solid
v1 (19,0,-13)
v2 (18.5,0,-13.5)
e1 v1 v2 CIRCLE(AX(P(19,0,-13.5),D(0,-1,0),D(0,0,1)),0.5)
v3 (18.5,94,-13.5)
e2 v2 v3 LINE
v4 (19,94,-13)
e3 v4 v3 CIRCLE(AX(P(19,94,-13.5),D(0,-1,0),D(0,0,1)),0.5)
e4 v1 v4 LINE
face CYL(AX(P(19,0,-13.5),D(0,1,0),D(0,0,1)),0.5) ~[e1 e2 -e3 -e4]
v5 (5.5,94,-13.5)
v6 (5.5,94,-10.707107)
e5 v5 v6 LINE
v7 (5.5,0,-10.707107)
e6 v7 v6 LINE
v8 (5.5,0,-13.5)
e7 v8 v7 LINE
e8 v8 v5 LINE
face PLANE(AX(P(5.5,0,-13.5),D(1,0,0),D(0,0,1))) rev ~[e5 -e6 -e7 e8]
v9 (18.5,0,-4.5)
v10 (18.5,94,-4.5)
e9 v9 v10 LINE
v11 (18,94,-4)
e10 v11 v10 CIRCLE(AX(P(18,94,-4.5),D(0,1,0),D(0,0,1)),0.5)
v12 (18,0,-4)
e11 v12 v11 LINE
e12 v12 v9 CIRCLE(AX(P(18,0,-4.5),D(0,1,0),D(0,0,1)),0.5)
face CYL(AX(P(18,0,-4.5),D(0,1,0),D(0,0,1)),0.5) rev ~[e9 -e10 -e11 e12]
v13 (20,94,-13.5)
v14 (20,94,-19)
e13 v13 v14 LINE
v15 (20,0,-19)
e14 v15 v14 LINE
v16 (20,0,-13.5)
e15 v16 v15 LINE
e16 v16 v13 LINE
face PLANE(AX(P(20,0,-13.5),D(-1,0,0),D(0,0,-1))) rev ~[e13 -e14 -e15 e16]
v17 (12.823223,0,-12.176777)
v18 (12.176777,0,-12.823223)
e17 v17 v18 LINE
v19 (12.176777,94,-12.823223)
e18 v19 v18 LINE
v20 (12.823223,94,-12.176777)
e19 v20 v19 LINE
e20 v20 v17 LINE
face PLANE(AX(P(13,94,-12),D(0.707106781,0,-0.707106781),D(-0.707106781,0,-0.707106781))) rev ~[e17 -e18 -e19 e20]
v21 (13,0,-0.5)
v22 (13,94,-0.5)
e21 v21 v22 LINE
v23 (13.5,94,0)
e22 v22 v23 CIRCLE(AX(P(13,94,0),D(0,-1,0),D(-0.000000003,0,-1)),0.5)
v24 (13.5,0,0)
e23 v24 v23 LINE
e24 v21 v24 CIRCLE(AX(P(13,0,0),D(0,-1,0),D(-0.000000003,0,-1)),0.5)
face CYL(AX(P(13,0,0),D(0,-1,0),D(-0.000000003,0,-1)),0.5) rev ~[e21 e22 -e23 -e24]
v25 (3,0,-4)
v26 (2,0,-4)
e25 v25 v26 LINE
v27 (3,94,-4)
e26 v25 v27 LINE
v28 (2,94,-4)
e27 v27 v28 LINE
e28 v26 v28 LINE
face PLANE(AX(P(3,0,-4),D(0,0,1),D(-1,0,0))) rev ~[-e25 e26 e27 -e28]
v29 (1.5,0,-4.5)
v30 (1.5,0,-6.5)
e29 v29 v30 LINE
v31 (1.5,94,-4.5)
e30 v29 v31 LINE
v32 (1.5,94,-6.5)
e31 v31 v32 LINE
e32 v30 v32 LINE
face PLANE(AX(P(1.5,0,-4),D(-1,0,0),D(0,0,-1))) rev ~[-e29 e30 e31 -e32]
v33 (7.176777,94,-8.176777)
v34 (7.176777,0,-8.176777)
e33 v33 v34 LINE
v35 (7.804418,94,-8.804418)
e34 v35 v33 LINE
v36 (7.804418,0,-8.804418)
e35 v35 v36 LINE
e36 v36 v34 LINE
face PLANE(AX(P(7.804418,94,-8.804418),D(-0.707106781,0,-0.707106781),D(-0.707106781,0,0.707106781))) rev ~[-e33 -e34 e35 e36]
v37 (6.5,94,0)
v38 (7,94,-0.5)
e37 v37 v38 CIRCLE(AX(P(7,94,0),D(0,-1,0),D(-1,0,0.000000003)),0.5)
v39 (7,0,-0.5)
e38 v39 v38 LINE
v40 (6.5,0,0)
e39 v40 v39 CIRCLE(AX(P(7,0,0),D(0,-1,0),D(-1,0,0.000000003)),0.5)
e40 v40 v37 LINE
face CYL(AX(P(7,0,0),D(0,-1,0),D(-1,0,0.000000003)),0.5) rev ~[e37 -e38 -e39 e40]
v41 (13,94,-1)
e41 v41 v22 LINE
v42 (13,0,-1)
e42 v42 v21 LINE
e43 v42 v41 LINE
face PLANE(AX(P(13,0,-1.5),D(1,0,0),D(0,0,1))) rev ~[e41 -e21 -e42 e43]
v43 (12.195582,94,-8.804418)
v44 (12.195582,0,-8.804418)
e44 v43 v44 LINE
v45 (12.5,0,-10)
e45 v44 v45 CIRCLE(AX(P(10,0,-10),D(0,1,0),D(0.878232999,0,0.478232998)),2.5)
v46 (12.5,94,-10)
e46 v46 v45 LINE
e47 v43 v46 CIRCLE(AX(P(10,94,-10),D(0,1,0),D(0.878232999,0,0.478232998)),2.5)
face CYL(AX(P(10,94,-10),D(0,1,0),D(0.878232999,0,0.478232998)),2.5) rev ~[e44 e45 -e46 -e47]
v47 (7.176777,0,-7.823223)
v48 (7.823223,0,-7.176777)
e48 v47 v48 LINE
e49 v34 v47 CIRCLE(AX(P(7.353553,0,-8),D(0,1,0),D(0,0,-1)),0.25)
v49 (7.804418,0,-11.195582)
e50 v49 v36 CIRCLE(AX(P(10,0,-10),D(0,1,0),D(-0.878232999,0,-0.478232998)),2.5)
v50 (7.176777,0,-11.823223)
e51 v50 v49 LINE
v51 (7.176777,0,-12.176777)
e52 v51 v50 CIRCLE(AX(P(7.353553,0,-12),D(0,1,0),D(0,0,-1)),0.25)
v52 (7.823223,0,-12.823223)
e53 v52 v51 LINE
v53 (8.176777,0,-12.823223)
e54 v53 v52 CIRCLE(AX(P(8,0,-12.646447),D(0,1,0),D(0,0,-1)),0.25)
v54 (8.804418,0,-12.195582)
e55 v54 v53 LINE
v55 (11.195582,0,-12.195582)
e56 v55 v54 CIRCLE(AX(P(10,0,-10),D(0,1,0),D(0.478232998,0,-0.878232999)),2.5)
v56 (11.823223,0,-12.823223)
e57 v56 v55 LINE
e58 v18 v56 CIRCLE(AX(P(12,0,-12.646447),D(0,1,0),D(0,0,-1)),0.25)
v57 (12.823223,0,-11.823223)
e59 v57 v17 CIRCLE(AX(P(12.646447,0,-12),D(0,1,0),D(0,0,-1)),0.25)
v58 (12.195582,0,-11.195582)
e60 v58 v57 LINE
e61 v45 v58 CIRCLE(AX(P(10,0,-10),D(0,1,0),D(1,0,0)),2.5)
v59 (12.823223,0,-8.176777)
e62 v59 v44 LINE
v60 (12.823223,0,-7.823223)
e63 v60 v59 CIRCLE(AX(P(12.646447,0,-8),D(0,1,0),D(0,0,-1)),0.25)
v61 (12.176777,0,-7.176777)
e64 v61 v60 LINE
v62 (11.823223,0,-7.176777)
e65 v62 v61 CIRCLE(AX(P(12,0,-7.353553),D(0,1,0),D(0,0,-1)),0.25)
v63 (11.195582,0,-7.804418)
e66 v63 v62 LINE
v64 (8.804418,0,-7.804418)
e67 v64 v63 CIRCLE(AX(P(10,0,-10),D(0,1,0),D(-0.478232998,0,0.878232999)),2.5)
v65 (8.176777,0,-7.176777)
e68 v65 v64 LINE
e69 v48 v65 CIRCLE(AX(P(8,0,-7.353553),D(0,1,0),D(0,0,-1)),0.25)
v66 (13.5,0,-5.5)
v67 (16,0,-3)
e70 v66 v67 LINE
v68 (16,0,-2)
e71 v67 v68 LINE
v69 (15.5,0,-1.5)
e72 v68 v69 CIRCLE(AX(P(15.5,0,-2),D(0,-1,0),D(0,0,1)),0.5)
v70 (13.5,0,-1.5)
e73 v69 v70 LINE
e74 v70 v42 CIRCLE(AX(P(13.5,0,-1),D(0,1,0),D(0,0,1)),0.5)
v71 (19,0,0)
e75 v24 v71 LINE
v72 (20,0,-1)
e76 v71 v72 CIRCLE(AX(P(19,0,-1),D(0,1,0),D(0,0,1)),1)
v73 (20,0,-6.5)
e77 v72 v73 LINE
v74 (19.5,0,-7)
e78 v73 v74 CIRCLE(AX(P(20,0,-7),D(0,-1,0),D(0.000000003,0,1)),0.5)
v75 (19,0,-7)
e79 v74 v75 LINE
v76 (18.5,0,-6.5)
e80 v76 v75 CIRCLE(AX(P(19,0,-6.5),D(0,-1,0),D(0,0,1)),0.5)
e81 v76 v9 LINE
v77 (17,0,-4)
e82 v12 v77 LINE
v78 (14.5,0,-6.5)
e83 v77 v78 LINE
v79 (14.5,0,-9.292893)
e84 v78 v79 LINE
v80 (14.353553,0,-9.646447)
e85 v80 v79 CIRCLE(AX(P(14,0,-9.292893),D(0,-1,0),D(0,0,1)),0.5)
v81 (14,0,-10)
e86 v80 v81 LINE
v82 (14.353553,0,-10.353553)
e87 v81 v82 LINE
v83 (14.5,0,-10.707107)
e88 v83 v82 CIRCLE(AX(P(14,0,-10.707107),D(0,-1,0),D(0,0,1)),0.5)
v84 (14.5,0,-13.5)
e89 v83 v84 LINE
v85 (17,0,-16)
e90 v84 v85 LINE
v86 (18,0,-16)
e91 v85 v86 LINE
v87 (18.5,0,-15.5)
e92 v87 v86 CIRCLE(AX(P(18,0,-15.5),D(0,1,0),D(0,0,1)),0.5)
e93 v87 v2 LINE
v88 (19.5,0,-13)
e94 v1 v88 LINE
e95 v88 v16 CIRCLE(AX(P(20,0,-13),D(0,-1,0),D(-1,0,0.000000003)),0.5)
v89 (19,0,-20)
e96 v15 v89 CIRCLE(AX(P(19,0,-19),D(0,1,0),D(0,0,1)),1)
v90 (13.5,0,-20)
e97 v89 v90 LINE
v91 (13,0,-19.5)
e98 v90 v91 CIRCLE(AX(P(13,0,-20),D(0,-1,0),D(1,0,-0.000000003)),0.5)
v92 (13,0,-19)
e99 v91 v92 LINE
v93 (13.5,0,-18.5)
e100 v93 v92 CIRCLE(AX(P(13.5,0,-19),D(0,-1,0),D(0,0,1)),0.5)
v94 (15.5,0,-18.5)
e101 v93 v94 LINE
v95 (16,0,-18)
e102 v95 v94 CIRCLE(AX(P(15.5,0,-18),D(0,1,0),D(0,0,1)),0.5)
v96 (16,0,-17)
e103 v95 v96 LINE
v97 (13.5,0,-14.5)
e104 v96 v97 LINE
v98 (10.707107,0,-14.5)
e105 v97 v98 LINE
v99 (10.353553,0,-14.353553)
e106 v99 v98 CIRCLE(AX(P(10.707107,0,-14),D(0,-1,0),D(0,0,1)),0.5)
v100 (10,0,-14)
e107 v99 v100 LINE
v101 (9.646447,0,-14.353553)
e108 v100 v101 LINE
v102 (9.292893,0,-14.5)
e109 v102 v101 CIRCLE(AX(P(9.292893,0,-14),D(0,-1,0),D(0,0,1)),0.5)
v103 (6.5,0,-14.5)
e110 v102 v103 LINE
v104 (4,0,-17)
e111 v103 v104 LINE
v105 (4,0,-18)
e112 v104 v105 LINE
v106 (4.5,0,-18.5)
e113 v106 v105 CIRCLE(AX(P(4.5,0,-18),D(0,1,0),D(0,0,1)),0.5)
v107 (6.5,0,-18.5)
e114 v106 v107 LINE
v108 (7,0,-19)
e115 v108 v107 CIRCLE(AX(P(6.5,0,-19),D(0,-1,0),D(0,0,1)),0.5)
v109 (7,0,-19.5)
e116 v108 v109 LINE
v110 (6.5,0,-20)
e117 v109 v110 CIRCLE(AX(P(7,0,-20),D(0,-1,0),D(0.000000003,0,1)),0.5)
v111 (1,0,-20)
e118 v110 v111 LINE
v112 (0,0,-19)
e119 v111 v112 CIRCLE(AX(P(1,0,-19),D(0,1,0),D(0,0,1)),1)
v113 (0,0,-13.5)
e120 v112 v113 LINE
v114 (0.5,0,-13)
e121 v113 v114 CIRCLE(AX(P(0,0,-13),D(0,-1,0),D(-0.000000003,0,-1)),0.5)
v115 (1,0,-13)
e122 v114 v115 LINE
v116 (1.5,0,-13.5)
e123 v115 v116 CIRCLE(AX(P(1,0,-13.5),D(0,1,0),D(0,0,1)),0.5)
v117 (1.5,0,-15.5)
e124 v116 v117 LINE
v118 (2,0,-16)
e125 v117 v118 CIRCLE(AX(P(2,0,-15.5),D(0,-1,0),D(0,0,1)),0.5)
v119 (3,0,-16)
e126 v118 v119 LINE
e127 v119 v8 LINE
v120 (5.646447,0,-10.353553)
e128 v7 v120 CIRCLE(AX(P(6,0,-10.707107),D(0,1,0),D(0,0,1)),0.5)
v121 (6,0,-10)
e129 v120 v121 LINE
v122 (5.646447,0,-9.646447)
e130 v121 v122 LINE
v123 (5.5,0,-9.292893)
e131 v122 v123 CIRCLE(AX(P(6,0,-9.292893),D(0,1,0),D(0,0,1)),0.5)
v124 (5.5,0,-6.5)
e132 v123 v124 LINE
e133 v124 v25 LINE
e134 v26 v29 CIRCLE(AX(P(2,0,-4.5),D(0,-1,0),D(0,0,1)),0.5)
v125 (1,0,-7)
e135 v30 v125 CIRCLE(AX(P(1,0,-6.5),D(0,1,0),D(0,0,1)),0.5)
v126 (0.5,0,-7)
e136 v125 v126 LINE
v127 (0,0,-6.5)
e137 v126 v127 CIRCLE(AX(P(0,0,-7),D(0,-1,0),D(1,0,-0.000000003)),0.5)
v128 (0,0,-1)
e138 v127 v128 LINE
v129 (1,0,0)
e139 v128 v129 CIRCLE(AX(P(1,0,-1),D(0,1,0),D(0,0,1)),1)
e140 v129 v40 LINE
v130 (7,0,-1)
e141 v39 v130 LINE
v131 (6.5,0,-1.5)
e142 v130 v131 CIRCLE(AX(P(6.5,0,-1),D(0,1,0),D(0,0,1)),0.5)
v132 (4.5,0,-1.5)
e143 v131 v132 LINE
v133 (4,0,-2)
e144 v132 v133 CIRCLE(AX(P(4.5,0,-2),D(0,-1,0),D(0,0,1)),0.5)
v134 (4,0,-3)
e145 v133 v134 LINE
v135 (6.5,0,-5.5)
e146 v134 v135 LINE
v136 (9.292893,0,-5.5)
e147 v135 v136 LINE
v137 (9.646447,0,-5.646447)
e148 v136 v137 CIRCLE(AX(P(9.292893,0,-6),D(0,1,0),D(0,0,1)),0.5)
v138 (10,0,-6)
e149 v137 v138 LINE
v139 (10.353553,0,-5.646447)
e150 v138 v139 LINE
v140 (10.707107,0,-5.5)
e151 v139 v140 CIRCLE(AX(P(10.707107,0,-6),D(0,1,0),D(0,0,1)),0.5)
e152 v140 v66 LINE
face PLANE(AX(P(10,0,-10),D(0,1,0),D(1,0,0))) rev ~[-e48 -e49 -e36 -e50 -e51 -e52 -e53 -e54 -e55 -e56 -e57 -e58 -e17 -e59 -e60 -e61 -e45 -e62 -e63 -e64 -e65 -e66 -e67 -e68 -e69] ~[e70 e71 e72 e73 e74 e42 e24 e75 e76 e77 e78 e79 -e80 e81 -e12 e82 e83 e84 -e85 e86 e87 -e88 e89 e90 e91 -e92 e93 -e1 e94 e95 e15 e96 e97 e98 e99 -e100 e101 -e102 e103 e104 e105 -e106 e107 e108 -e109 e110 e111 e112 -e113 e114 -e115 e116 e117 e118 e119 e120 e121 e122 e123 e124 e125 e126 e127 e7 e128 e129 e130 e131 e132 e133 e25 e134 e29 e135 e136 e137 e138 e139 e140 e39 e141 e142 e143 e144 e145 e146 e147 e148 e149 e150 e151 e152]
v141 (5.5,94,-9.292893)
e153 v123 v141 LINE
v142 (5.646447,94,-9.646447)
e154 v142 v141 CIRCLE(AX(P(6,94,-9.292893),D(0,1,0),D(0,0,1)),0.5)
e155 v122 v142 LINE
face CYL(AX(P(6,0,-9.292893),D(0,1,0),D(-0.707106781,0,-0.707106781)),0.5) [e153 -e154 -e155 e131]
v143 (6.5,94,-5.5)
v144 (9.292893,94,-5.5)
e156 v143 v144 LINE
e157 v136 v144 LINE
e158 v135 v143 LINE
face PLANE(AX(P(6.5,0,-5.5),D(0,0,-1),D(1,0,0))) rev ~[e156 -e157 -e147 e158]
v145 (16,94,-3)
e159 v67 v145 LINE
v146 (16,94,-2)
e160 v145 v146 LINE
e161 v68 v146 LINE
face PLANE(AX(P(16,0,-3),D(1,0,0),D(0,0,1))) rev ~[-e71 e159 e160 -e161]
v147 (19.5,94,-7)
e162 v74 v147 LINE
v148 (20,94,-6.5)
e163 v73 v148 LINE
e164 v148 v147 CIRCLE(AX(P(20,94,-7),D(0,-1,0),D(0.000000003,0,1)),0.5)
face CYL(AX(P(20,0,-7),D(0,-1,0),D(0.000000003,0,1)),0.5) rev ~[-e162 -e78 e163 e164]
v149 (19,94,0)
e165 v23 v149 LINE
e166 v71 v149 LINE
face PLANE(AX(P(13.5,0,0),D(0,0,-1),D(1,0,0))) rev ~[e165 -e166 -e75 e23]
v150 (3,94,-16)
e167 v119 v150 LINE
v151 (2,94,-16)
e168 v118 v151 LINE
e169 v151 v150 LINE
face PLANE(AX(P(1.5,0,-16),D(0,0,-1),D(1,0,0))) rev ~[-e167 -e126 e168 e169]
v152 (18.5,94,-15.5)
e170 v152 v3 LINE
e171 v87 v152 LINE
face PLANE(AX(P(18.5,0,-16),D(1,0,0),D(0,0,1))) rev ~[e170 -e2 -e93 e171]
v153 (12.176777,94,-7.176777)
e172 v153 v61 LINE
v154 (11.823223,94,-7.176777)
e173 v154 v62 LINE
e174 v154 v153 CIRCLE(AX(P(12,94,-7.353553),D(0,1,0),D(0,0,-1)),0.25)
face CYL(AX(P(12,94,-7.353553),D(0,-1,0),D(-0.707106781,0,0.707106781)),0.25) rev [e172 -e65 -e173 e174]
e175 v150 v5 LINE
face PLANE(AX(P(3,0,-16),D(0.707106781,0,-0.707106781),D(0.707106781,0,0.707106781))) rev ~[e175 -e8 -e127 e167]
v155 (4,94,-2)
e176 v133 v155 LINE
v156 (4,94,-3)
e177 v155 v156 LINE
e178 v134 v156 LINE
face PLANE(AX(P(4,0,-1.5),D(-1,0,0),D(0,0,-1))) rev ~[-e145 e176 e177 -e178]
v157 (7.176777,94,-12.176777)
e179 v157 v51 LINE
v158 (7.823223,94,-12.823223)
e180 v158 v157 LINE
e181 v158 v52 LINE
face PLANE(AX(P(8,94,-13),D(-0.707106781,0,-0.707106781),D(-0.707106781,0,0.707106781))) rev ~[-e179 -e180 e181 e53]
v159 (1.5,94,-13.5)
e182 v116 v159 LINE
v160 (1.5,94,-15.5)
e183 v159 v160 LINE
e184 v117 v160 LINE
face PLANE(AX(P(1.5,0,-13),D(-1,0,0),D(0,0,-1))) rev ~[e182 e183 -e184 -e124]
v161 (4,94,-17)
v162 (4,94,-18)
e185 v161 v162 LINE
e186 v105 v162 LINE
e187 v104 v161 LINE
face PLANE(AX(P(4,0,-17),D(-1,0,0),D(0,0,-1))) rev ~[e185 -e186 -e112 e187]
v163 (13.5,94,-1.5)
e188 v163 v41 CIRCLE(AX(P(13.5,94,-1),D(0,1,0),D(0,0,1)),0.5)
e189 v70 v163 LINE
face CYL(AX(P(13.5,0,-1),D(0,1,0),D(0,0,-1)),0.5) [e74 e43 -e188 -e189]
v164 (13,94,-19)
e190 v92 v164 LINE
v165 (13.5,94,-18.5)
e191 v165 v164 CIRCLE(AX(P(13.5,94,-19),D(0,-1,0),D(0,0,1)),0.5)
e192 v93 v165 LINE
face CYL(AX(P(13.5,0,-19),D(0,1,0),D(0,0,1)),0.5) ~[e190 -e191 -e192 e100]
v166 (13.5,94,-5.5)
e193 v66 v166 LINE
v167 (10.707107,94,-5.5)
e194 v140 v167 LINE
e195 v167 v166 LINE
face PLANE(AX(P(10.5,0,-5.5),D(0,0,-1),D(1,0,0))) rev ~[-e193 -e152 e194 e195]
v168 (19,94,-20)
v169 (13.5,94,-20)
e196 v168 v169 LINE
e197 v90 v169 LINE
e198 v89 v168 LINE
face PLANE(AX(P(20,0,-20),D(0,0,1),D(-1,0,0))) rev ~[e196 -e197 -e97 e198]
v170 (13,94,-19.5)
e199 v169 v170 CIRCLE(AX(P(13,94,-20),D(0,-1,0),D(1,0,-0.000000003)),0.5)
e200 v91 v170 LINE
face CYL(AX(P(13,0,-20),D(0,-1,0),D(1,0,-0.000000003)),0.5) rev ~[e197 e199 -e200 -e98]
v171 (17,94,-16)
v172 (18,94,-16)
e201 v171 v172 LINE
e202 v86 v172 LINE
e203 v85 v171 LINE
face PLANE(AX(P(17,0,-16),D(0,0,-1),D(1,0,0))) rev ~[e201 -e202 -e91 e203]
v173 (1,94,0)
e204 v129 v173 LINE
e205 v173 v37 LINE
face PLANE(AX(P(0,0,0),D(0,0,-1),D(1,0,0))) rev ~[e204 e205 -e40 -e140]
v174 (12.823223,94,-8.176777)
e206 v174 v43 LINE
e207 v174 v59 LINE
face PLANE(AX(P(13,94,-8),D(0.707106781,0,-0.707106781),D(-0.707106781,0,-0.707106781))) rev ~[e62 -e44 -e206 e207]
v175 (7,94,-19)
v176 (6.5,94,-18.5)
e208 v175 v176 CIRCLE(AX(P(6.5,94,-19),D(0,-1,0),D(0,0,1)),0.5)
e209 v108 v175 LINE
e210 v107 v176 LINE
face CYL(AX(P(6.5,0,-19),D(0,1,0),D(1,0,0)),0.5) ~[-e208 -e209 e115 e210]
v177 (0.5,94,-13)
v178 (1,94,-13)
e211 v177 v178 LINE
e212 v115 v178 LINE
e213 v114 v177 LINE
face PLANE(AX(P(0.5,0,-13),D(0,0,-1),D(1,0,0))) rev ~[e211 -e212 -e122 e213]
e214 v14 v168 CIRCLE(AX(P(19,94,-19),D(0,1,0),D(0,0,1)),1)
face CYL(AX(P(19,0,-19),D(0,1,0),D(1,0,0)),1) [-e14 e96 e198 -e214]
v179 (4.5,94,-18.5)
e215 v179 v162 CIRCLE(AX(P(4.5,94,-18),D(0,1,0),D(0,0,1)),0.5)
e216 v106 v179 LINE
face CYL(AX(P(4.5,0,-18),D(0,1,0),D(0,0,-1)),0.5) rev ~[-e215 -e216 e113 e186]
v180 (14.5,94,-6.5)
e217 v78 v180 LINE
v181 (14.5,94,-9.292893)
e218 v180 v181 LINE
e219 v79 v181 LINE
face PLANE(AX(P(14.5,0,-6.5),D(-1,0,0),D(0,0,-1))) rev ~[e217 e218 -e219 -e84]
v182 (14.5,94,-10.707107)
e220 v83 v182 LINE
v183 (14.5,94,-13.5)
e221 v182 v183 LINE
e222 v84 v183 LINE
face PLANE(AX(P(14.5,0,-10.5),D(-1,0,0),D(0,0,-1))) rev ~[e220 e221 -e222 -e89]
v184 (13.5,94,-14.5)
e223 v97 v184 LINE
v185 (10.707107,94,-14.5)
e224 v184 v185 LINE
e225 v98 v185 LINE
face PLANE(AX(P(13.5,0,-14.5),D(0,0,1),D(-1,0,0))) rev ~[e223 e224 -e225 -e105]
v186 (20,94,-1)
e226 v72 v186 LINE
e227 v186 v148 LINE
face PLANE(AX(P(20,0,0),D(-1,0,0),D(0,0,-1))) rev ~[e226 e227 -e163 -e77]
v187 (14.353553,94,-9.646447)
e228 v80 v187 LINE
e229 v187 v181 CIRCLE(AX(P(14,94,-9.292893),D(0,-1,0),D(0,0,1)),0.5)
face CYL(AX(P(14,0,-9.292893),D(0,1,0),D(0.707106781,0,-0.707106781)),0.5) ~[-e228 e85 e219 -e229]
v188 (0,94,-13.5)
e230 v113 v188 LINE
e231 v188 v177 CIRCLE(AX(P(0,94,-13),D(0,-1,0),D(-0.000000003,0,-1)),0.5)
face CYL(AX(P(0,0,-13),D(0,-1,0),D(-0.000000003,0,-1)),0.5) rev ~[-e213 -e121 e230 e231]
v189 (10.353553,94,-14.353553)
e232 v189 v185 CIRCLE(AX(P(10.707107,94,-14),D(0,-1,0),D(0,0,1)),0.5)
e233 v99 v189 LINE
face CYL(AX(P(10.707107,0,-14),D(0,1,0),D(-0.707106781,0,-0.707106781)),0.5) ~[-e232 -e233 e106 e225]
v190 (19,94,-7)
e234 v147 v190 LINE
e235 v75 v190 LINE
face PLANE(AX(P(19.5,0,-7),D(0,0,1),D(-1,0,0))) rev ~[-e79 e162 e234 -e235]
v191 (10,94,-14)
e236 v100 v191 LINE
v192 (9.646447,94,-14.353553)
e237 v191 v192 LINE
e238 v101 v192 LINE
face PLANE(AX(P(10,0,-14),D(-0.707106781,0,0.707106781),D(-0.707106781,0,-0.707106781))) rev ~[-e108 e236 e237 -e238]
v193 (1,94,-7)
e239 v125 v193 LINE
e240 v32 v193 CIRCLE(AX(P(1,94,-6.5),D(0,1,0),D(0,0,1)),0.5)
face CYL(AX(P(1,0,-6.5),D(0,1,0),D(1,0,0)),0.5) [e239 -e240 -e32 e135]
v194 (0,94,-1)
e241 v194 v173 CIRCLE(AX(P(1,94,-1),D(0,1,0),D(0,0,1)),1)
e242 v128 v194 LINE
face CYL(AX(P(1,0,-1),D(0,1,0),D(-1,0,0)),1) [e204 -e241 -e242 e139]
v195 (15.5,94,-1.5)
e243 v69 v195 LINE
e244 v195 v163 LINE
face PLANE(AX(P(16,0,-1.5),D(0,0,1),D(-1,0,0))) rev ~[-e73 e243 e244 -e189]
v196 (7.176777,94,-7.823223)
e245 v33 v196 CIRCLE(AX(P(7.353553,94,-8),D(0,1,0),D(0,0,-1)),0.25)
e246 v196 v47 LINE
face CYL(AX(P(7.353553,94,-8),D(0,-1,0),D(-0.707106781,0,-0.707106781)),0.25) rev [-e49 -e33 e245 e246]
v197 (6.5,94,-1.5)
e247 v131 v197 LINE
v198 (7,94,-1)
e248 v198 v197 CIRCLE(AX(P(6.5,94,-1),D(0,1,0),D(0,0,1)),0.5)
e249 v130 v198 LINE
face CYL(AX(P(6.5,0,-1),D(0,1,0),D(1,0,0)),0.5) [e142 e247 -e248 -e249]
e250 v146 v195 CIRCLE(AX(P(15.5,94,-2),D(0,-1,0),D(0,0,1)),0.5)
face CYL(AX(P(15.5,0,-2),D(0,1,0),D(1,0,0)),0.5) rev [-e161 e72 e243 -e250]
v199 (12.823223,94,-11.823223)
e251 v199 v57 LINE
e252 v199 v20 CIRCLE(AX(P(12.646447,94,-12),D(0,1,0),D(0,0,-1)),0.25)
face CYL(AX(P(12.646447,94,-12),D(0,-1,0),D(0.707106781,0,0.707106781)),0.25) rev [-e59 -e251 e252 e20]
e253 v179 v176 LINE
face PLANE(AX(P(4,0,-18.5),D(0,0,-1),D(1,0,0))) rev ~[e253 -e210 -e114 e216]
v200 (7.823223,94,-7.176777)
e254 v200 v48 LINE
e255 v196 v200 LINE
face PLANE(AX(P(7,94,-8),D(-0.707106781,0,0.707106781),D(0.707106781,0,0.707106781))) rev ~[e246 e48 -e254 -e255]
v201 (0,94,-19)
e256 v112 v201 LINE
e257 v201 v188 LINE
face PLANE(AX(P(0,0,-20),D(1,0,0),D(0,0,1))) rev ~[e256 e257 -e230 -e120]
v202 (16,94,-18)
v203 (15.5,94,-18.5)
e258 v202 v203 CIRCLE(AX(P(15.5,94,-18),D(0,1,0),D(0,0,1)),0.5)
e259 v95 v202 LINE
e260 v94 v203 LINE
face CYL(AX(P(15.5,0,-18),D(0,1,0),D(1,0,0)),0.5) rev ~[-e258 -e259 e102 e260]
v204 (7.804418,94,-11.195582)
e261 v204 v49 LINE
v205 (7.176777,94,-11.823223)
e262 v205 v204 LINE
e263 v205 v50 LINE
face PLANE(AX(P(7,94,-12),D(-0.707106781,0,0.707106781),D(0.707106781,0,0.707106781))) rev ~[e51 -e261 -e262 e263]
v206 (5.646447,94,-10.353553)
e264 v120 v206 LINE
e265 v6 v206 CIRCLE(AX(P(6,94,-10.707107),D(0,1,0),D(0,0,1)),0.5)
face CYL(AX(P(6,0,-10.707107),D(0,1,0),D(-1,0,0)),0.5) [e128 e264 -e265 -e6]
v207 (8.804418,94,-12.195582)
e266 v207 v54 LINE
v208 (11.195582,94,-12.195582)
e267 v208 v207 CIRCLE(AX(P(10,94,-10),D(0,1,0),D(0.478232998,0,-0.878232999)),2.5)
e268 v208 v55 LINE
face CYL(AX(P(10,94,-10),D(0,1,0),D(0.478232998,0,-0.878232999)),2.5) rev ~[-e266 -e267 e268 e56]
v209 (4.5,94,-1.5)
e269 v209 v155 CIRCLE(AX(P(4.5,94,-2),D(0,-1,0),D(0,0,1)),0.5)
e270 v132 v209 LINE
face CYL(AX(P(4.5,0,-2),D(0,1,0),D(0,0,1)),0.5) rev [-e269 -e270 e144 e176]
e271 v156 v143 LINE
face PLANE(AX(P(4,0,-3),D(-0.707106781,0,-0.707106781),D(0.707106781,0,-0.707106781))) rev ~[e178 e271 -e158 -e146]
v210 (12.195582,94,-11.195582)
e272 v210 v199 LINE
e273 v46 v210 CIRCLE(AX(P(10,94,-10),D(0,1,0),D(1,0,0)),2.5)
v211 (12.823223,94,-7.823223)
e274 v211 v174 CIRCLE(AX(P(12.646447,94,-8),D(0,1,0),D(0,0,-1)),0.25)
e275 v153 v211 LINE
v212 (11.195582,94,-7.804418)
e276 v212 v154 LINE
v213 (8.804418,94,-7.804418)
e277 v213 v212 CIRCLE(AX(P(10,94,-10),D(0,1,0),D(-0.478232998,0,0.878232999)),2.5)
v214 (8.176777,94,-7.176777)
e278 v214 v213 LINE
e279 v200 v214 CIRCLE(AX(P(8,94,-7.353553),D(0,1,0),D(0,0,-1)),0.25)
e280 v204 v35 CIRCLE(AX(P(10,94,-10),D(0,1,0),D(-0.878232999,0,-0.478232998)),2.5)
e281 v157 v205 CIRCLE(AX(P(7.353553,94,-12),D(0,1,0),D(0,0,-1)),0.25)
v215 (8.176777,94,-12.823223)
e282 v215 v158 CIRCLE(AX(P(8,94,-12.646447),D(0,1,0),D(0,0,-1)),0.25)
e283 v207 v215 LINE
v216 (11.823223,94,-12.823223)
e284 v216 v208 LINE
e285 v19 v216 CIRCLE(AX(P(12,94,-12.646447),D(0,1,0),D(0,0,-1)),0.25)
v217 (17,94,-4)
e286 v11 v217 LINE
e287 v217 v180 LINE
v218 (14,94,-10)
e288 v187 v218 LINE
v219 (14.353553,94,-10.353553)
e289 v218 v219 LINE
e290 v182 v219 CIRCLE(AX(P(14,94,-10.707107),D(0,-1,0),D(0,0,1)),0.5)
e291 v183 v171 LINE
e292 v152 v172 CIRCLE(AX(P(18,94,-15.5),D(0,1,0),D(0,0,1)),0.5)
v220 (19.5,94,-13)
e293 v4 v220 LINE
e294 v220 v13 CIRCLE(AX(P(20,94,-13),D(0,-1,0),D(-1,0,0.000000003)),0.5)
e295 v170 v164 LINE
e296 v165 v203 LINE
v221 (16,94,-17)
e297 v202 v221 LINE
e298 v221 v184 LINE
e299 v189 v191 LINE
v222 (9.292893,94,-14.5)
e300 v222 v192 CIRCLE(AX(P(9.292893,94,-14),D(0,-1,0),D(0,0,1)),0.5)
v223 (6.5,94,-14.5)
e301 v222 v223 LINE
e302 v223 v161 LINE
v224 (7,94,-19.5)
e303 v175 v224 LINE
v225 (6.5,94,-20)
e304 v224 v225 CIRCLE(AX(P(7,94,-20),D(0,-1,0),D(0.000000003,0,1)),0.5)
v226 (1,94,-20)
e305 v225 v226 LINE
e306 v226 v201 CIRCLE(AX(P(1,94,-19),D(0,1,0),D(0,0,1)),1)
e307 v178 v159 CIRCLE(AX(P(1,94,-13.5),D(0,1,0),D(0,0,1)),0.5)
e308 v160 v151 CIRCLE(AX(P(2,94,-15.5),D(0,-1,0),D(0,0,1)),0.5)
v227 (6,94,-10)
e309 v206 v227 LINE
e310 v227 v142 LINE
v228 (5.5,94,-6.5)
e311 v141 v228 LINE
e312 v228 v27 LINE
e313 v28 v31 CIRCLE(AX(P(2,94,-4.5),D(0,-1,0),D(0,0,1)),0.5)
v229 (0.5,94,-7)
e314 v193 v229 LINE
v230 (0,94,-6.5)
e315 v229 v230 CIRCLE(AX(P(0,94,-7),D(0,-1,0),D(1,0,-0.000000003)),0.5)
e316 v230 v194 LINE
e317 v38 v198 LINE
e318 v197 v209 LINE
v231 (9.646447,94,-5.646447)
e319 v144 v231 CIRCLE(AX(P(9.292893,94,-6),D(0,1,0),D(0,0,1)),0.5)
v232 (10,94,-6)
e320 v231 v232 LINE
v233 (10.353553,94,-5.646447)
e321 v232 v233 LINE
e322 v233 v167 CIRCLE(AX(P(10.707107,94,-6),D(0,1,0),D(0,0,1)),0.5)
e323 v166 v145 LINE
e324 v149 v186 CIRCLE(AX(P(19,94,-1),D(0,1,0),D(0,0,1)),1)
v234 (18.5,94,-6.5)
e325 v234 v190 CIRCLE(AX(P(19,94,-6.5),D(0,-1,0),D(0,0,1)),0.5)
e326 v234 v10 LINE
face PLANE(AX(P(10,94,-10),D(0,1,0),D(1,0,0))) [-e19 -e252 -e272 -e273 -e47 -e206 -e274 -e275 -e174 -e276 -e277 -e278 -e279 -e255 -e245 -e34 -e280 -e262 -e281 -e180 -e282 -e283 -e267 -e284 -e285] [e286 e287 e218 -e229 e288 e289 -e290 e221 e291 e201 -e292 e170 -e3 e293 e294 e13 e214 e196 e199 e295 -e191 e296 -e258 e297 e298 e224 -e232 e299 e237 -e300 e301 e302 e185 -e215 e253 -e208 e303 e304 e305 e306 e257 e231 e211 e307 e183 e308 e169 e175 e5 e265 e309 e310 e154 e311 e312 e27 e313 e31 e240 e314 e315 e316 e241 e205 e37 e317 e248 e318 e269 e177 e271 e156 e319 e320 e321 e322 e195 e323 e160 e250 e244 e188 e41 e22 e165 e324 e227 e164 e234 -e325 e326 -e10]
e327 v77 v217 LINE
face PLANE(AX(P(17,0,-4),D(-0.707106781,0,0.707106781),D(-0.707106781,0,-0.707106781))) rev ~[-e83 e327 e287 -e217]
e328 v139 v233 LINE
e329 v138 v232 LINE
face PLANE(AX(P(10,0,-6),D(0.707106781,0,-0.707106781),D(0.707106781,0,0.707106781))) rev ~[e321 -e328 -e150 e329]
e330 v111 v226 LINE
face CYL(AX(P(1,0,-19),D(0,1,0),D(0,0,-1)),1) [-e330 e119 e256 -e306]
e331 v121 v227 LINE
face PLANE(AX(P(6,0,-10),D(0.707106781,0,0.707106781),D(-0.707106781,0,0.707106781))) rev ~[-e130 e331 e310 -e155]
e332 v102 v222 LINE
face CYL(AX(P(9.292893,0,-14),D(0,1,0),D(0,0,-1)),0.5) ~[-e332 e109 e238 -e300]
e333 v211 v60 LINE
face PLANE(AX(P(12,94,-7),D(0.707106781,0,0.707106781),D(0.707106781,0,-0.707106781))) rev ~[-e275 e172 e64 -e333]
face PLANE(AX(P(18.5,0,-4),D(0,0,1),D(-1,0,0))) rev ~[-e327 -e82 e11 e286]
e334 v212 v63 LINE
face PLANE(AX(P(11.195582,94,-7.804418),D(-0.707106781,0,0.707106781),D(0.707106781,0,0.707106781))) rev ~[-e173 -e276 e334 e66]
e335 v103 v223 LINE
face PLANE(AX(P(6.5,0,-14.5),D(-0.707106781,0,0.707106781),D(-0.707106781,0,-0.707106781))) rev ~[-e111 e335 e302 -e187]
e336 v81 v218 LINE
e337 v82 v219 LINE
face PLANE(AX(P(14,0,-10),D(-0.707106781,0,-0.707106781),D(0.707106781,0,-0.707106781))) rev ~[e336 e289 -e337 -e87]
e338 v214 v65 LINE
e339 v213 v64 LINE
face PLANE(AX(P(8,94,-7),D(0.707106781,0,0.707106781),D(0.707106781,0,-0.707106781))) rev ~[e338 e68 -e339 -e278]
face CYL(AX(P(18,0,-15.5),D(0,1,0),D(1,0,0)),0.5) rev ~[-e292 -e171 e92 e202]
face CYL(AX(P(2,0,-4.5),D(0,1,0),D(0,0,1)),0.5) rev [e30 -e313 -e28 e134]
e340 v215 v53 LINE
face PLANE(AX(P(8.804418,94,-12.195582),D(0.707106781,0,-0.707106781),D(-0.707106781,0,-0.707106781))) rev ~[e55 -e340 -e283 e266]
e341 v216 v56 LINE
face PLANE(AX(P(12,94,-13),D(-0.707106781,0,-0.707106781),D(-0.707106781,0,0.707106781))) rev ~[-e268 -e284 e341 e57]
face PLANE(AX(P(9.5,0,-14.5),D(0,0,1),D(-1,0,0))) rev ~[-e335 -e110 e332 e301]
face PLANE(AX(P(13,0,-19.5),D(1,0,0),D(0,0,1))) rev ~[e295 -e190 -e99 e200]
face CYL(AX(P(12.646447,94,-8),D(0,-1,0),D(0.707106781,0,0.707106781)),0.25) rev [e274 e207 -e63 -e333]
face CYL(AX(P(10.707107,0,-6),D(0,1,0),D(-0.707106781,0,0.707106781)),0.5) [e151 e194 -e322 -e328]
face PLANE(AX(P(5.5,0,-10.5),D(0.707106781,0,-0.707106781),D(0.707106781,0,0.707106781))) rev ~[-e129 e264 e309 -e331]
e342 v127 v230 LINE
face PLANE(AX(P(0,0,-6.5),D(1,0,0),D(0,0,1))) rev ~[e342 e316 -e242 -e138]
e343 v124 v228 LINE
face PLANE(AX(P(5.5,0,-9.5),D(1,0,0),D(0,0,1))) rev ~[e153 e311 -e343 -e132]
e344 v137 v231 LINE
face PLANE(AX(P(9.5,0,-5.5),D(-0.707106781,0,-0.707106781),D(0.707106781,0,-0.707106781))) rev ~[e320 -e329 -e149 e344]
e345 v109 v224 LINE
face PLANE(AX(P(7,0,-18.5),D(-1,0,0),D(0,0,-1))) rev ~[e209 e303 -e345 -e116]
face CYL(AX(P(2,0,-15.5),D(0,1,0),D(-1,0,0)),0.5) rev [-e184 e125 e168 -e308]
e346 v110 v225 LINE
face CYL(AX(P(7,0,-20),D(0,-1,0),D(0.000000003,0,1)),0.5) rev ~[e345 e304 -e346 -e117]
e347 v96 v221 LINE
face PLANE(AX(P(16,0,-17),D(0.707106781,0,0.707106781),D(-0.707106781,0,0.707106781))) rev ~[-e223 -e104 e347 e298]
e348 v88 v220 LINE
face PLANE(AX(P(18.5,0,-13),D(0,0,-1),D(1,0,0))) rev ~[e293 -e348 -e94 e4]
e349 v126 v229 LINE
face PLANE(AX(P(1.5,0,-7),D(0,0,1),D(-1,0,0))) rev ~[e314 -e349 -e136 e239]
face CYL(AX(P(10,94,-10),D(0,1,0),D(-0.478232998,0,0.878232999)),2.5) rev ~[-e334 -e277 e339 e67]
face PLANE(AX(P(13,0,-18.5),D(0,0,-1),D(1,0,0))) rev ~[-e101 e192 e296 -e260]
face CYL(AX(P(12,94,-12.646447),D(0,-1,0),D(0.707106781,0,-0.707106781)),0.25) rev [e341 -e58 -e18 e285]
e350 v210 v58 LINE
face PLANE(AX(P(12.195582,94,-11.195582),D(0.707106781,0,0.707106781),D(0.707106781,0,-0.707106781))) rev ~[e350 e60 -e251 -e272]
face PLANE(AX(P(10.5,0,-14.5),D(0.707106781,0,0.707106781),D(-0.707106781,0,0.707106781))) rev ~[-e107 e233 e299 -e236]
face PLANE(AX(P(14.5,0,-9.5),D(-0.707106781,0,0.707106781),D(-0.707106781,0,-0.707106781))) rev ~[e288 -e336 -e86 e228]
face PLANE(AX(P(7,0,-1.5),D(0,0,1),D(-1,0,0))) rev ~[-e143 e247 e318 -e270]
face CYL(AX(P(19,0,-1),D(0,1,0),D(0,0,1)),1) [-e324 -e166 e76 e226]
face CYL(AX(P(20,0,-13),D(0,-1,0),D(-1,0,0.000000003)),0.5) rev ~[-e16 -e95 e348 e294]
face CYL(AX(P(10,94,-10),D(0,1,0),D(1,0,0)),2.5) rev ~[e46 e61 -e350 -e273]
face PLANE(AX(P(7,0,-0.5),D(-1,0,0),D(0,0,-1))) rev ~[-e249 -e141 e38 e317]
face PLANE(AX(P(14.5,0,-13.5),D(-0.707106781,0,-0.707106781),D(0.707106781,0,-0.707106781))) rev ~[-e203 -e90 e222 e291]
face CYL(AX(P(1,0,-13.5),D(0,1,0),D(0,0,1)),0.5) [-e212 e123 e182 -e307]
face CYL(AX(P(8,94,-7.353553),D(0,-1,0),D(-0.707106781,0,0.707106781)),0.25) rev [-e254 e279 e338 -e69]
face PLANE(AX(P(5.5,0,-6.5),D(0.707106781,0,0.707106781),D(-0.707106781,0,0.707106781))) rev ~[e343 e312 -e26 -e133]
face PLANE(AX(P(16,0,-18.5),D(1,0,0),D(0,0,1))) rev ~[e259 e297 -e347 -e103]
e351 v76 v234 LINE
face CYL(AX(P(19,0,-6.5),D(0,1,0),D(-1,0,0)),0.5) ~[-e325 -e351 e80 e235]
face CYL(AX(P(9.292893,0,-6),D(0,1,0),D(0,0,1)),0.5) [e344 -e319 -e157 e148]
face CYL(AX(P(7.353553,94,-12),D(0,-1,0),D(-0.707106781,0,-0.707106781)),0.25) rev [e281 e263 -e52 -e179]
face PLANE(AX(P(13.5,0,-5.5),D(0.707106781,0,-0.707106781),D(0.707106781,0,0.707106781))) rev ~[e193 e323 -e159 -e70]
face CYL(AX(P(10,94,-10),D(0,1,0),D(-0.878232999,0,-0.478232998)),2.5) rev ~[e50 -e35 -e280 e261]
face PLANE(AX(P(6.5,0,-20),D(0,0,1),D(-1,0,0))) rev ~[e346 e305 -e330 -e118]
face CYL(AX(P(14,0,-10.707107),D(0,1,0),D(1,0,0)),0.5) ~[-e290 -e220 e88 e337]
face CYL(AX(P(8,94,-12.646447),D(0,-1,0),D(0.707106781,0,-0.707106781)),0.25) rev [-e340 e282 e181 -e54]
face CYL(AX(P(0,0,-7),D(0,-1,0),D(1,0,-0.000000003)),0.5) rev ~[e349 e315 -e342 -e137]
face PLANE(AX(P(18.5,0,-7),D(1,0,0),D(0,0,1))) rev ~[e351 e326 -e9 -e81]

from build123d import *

# Parameters (mm, degrees)
BOSS_EXTRUDE1_DEPTH = 94
FILLET1_R           = 1
CUT_EXTRUDE1_DEPTH  = 95
FILLET2_R           = 0.5
FILLET3_R           = 0.25


with BuildPart() as part:
    # Sketch3 → Boss-Extrude1 (new body)
    with BuildSketch(Plane(origin=(0, 0, 0), x_dir=(1, 0, 0), z_dir=(0, 1, 0))):
        with BuildLine():
            Line((7, 18.5), (7, 19.5))
            ThreePointArc((7, 19.5), (6.646446609, 19.646446609), (6.5, 20))
            Line((6.5, 20), (0, 20))
            Line((0, 20), (0, 13.5))
            ThreePointArc((0, 13.5), (0.353553391, 13.353553391), (0.5, 13))
            Line((0.5, 13), (1.5, 13))
            Line((1.5, 13), (1.5, 16))
            Line((1.5, 16), (3, 16))
            Line((3, 16), (5.5, 13.5))
            Line((5.5, 13.5), (5.5, 10.5))
            Line((5.5, 10.5), (6, 10))
            Line((6, 10), (5.5, 9.5))
            Line((5.5, 9.5), (5.5, 6.5))
            Line((5.5, 6.5), (3, 4))
            Line((3, 4), (1.5, 4))
            Line((1.5, 4), (1.5, 7))
            Line((1.5, 7), (0.5, 7))
            ThreePointArc((0.5, 7), (0.353553391, 6.646446609), (0, 6.5))
            Line((0, 6.5), (0, 0))
            Line((0, 0), (6.5, 0))
            ThreePointArc((6.5, 0), (6.646446609, 0.353553391), (7, 0.5))
            Line((7, 0.5), (7, 1.5))
            Line((7, 1.5), (4, 1.5))
            Line((4, 1.5), (4, 3))
            Line((4, 3), (6.5, 5.5))
            Line((6.5, 5.5), (9.5, 5.5))
            Line((9.5, 5.5), (10, 6))
            Line((10, 6), (10.5, 5.5))
            Line((10.5, 5.5), (13.5, 5.5))
            Line((13.5, 5.5), (16, 3))
            Line((16, 3), (16, 1.5))
            Line((16, 1.5), (13, 1.5))
            Line((13, 1.5), (13, 0.5))
            ThreePointArc((13, 0.5), (13.353553391, 0.353553391), (13.5, 0))
            Line((13.5, 0), (20, 0))
            Line((20, 0), (20, 6.5))
            ThreePointArc((20, 6.5), (19.646446609, 6.646446609), (19.5, 7))
            Line((19.5, 7), (18.5, 7))
            Line((18.5, 7), (18.5, 4))
            Line((18.5, 4), (17, 4))
            Line((17, 4), (14.5, 6.5))
            Line((14.5, 6.5), (14.5, 9.5))
            Line((14.5, 9.5), (14, 10))
            Line((14, 10), (14.5, 10.5))
            Line((14.5, 10.5), (14.5, 13.5))
            Line((14.5, 13.5), (17, 16))
            Line((17, 16), (18.5, 16))
            Line((18.5, 16), (18.5, 13))
            Line((18.5, 13), (19.5, 13))
            ThreePointArc((19.5, 13), (19.646446609, 13.353553391), (20, 13.5))
            Line((20, 13.5), (20, 20))
            Line((20, 20), (13.5, 20))
            ThreePointArc((13.5, 20), (13.353553391, 19.646446609), (13, 19.5))
            Line((13, 19.5), (13, 18.5))
            Line((13, 18.5), (16, 18.5))
            Line((16, 18.5), (16, 17))
            Line((16, 17), (13.5, 14.5))
            Line((13.5, 14.5), (10.5, 14.5))
            Line((10.5, 14.5), (10, 14))
            Line((10, 14), (9.5, 14.5))
            Line((9.5, 14.5), (6.5, 14.5))
            Line((6.5, 14.5), (4, 17))
            Line((4, 17), (4, 18.5))
            Line((4, 18.5), (7, 18.5))
        make_face()
    extrude(amount=BOSS_EXTRUDE1_DEPTH)

    # Fillet1
    fillet1_edges = [part.edges().sort_by_distance(p)[0] for p in [
        (20, 47, 0),
        (0, 47, 0),
        (0, 47, -20),
        (20, 47, -20),
    ]]
    fillet(fillet1_edges, radius=FILLET1_R)

    # Sketch4 → Cut-Extrude1 (cut, through all)
    with BuildSketch(Plane(origin=(0, 94, 0), x_dir=(1, 0, 0), z_dir=(0, 1, 0))):
        with BuildLine():
            Line((10, 11), (11.195582496, 12.195582496))
            ThreePointArc((11.195582496, 12.195582496), (10, 12.5), (8.804417504, 12.195582496))
            Line((8.804417504, 12.195582496), (10, 11))
        make_face()
        with BuildLine():
            ThreePointArc((12.195582496, 11.195582496), (11.767766953, 11.767766953), (11.195582496, 12.195582496))
            Line((11.195582496, 12.195582496), (10, 11))
            Line((10, 11), (11, 10))
            Line((11, 10), (12.195582496, 11.195582496))
        make_face()
        with BuildLine():
            Line((9, 10), (10, 11))
            Line((10, 11), (8.804417504, 12.195582496))
            ThreePointArc((8.804417504, 12.195582496), (8.232233047, 11.767766953), (7.804417504, 11.195582496))
            Line((7.804417504, 11.195582496), (9, 10))
        make_face()
        Polygon((11, 10), (10, 11), (9, 10), (10, 9), align=None)
        with BuildLine():
            Line((7.804417504, 8.804417504), (9, 10))
            Line((9, 10), (7.804417504, 11.195582496))
            ThreePointArc((7.804417504, 11.195582496), (7.5, 10), (7.804417504, 8.804417504))
        make_face()
        with BuildLine():
            Line((10, 9), (9, 10))
            Line((9, 10), (7.804417504, 8.804417504))
            ThreePointArc((7.804417504, 8.804417504), (8.232233047, 8.232233047), (8.804417504, 7.804417504))
            Line((8.804417504, 7.804417504), (10, 9))
        make_face()
        with BuildLine():
            Line((11.195582496, 7.804417504), (10, 9))
            Line((10, 9), (8.804417504, 7.804417504))
            ThreePointArc((8.804417504, 7.804417504), (10, 7.5), (11.195582496, 7.804417504))
        make_face()
        with BuildLine():
            Line((12.195582496, 8.804417504), (11, 10))
            Line((11, 10), (10, 9))
            Line((10, 9), (11.195582496, 7.804417504))
            ThreePointArc((11.195582496, 7.804417504), (11.767766953, 8.232233047), (12.195582496, 8.804417504))
        make_face()
        with BuildLine():
            ThreePointArc((12.5, 10), (12.422700584, 10.616864556), (12.195582496, 11.195582496))
            Line((12.195582496, 11.195582496), (11, 10))
            Line((11, 10), (12.195582496, 8.804417504))
            ThreePointArc((12.195582496, 8.804417504), (12.422700584, 9.383135444), (12.5, 10))
        make_face()
        with BuildLine():
            ThreePointArc((8.804417504, 7.804417504), (8.232233047, 8.232233047), (7.804417504, 8.804417504))
            Line((7.804417504, 8.804417504), (7, 8))
            Line((7, 8), (8, 7))
            Line((8, 7), (8.804417504, 7.804417504))
        make_face()
        with BuildLine():
            Line((13, 8), (12.195582496, 8.804417504))
            ThreePointArc((12.195582496, 8.804417504), (11.767766953, 8.232233047), (11.195582496, 7.804417504))
            Line((11.195582496, 7.804417504), (12, 7))
            Line((12, 7), (13, 8))
        make_face()
        with BuildLine():
            Line((13, 12), (12, 13))
            Line((12, 13), (11.195582496, 12.195582496))
            ThreePointArc((11.195582496, 12.195582496), (11.767766953, 11.767766953), (12.195582496, 11.195582496))
            Line((12.195582496, 11.195582496), (13, 12))
        make_face()
        with BuildLine():
            ThreePointArc((7.804417504, 11.195582496), (8.232233047, 11.767766953), (8.804417504, 12.195582496))
            Line((8.804417504, 12.195582496), (8, 13))
            Line((8, 13), (7, 12))
            Line((7, 12), (7.804417504, 11.195582496))
        make_face()
    extrude(amount=-CUT_EXTRUDE1_DEPTH, mode=Mode.SUBTRACT)

    # Fillet2
    fillet2_edges = [part.edges().sort_by_distance(p)[0] for p in [
        (18.5, 47, -13),
        (18.5, 47, -16),
        (14.5, 47, -10.5),
        (14.5, 47, -9.5),
        (18.5, 47, -4),
        (18.5, 47, -7),
        (13, 47, -1.5),
        (16, 47, -1.5),
        (10.5, 47, -5.5),
        (9.5, 47, -5.5),
        (4, 47, -1.5),
        (7, 47, -1.5),
        (1.5, 47, -7),
        (1.5, 47, -4),
        (5.5, 47, -9.5),
        (5.5, 47, -10.5),
        (1.5, 47, -16),
        (1.5, 47, -13),
        (7, 47, -18.5),
        (4, 47, -18.5),
        (9.5, 47, -14.5),
        (10.5, 47, -14.5),
        (16, 47, -18.5),
        (13, 47, -18.5),
    ]]
    fillet(fillet2_edges, radius=FILLET2_R)

    # Fillet3
    fillet3_edges = [part.edges().sort_by_distance(p)[0] for p in [
        (7, 47, -12),
        (8, 47, -13),
        (12, 47, -13),
        (13, 47, -12),
        (13, 47, -8),
        (12, 47, -7),
        (8, 47, -7),
        (7, 47, -8),
    ]]
    fillet(fillet3_edges, radius=FILLET3_R)


solid = part.part
